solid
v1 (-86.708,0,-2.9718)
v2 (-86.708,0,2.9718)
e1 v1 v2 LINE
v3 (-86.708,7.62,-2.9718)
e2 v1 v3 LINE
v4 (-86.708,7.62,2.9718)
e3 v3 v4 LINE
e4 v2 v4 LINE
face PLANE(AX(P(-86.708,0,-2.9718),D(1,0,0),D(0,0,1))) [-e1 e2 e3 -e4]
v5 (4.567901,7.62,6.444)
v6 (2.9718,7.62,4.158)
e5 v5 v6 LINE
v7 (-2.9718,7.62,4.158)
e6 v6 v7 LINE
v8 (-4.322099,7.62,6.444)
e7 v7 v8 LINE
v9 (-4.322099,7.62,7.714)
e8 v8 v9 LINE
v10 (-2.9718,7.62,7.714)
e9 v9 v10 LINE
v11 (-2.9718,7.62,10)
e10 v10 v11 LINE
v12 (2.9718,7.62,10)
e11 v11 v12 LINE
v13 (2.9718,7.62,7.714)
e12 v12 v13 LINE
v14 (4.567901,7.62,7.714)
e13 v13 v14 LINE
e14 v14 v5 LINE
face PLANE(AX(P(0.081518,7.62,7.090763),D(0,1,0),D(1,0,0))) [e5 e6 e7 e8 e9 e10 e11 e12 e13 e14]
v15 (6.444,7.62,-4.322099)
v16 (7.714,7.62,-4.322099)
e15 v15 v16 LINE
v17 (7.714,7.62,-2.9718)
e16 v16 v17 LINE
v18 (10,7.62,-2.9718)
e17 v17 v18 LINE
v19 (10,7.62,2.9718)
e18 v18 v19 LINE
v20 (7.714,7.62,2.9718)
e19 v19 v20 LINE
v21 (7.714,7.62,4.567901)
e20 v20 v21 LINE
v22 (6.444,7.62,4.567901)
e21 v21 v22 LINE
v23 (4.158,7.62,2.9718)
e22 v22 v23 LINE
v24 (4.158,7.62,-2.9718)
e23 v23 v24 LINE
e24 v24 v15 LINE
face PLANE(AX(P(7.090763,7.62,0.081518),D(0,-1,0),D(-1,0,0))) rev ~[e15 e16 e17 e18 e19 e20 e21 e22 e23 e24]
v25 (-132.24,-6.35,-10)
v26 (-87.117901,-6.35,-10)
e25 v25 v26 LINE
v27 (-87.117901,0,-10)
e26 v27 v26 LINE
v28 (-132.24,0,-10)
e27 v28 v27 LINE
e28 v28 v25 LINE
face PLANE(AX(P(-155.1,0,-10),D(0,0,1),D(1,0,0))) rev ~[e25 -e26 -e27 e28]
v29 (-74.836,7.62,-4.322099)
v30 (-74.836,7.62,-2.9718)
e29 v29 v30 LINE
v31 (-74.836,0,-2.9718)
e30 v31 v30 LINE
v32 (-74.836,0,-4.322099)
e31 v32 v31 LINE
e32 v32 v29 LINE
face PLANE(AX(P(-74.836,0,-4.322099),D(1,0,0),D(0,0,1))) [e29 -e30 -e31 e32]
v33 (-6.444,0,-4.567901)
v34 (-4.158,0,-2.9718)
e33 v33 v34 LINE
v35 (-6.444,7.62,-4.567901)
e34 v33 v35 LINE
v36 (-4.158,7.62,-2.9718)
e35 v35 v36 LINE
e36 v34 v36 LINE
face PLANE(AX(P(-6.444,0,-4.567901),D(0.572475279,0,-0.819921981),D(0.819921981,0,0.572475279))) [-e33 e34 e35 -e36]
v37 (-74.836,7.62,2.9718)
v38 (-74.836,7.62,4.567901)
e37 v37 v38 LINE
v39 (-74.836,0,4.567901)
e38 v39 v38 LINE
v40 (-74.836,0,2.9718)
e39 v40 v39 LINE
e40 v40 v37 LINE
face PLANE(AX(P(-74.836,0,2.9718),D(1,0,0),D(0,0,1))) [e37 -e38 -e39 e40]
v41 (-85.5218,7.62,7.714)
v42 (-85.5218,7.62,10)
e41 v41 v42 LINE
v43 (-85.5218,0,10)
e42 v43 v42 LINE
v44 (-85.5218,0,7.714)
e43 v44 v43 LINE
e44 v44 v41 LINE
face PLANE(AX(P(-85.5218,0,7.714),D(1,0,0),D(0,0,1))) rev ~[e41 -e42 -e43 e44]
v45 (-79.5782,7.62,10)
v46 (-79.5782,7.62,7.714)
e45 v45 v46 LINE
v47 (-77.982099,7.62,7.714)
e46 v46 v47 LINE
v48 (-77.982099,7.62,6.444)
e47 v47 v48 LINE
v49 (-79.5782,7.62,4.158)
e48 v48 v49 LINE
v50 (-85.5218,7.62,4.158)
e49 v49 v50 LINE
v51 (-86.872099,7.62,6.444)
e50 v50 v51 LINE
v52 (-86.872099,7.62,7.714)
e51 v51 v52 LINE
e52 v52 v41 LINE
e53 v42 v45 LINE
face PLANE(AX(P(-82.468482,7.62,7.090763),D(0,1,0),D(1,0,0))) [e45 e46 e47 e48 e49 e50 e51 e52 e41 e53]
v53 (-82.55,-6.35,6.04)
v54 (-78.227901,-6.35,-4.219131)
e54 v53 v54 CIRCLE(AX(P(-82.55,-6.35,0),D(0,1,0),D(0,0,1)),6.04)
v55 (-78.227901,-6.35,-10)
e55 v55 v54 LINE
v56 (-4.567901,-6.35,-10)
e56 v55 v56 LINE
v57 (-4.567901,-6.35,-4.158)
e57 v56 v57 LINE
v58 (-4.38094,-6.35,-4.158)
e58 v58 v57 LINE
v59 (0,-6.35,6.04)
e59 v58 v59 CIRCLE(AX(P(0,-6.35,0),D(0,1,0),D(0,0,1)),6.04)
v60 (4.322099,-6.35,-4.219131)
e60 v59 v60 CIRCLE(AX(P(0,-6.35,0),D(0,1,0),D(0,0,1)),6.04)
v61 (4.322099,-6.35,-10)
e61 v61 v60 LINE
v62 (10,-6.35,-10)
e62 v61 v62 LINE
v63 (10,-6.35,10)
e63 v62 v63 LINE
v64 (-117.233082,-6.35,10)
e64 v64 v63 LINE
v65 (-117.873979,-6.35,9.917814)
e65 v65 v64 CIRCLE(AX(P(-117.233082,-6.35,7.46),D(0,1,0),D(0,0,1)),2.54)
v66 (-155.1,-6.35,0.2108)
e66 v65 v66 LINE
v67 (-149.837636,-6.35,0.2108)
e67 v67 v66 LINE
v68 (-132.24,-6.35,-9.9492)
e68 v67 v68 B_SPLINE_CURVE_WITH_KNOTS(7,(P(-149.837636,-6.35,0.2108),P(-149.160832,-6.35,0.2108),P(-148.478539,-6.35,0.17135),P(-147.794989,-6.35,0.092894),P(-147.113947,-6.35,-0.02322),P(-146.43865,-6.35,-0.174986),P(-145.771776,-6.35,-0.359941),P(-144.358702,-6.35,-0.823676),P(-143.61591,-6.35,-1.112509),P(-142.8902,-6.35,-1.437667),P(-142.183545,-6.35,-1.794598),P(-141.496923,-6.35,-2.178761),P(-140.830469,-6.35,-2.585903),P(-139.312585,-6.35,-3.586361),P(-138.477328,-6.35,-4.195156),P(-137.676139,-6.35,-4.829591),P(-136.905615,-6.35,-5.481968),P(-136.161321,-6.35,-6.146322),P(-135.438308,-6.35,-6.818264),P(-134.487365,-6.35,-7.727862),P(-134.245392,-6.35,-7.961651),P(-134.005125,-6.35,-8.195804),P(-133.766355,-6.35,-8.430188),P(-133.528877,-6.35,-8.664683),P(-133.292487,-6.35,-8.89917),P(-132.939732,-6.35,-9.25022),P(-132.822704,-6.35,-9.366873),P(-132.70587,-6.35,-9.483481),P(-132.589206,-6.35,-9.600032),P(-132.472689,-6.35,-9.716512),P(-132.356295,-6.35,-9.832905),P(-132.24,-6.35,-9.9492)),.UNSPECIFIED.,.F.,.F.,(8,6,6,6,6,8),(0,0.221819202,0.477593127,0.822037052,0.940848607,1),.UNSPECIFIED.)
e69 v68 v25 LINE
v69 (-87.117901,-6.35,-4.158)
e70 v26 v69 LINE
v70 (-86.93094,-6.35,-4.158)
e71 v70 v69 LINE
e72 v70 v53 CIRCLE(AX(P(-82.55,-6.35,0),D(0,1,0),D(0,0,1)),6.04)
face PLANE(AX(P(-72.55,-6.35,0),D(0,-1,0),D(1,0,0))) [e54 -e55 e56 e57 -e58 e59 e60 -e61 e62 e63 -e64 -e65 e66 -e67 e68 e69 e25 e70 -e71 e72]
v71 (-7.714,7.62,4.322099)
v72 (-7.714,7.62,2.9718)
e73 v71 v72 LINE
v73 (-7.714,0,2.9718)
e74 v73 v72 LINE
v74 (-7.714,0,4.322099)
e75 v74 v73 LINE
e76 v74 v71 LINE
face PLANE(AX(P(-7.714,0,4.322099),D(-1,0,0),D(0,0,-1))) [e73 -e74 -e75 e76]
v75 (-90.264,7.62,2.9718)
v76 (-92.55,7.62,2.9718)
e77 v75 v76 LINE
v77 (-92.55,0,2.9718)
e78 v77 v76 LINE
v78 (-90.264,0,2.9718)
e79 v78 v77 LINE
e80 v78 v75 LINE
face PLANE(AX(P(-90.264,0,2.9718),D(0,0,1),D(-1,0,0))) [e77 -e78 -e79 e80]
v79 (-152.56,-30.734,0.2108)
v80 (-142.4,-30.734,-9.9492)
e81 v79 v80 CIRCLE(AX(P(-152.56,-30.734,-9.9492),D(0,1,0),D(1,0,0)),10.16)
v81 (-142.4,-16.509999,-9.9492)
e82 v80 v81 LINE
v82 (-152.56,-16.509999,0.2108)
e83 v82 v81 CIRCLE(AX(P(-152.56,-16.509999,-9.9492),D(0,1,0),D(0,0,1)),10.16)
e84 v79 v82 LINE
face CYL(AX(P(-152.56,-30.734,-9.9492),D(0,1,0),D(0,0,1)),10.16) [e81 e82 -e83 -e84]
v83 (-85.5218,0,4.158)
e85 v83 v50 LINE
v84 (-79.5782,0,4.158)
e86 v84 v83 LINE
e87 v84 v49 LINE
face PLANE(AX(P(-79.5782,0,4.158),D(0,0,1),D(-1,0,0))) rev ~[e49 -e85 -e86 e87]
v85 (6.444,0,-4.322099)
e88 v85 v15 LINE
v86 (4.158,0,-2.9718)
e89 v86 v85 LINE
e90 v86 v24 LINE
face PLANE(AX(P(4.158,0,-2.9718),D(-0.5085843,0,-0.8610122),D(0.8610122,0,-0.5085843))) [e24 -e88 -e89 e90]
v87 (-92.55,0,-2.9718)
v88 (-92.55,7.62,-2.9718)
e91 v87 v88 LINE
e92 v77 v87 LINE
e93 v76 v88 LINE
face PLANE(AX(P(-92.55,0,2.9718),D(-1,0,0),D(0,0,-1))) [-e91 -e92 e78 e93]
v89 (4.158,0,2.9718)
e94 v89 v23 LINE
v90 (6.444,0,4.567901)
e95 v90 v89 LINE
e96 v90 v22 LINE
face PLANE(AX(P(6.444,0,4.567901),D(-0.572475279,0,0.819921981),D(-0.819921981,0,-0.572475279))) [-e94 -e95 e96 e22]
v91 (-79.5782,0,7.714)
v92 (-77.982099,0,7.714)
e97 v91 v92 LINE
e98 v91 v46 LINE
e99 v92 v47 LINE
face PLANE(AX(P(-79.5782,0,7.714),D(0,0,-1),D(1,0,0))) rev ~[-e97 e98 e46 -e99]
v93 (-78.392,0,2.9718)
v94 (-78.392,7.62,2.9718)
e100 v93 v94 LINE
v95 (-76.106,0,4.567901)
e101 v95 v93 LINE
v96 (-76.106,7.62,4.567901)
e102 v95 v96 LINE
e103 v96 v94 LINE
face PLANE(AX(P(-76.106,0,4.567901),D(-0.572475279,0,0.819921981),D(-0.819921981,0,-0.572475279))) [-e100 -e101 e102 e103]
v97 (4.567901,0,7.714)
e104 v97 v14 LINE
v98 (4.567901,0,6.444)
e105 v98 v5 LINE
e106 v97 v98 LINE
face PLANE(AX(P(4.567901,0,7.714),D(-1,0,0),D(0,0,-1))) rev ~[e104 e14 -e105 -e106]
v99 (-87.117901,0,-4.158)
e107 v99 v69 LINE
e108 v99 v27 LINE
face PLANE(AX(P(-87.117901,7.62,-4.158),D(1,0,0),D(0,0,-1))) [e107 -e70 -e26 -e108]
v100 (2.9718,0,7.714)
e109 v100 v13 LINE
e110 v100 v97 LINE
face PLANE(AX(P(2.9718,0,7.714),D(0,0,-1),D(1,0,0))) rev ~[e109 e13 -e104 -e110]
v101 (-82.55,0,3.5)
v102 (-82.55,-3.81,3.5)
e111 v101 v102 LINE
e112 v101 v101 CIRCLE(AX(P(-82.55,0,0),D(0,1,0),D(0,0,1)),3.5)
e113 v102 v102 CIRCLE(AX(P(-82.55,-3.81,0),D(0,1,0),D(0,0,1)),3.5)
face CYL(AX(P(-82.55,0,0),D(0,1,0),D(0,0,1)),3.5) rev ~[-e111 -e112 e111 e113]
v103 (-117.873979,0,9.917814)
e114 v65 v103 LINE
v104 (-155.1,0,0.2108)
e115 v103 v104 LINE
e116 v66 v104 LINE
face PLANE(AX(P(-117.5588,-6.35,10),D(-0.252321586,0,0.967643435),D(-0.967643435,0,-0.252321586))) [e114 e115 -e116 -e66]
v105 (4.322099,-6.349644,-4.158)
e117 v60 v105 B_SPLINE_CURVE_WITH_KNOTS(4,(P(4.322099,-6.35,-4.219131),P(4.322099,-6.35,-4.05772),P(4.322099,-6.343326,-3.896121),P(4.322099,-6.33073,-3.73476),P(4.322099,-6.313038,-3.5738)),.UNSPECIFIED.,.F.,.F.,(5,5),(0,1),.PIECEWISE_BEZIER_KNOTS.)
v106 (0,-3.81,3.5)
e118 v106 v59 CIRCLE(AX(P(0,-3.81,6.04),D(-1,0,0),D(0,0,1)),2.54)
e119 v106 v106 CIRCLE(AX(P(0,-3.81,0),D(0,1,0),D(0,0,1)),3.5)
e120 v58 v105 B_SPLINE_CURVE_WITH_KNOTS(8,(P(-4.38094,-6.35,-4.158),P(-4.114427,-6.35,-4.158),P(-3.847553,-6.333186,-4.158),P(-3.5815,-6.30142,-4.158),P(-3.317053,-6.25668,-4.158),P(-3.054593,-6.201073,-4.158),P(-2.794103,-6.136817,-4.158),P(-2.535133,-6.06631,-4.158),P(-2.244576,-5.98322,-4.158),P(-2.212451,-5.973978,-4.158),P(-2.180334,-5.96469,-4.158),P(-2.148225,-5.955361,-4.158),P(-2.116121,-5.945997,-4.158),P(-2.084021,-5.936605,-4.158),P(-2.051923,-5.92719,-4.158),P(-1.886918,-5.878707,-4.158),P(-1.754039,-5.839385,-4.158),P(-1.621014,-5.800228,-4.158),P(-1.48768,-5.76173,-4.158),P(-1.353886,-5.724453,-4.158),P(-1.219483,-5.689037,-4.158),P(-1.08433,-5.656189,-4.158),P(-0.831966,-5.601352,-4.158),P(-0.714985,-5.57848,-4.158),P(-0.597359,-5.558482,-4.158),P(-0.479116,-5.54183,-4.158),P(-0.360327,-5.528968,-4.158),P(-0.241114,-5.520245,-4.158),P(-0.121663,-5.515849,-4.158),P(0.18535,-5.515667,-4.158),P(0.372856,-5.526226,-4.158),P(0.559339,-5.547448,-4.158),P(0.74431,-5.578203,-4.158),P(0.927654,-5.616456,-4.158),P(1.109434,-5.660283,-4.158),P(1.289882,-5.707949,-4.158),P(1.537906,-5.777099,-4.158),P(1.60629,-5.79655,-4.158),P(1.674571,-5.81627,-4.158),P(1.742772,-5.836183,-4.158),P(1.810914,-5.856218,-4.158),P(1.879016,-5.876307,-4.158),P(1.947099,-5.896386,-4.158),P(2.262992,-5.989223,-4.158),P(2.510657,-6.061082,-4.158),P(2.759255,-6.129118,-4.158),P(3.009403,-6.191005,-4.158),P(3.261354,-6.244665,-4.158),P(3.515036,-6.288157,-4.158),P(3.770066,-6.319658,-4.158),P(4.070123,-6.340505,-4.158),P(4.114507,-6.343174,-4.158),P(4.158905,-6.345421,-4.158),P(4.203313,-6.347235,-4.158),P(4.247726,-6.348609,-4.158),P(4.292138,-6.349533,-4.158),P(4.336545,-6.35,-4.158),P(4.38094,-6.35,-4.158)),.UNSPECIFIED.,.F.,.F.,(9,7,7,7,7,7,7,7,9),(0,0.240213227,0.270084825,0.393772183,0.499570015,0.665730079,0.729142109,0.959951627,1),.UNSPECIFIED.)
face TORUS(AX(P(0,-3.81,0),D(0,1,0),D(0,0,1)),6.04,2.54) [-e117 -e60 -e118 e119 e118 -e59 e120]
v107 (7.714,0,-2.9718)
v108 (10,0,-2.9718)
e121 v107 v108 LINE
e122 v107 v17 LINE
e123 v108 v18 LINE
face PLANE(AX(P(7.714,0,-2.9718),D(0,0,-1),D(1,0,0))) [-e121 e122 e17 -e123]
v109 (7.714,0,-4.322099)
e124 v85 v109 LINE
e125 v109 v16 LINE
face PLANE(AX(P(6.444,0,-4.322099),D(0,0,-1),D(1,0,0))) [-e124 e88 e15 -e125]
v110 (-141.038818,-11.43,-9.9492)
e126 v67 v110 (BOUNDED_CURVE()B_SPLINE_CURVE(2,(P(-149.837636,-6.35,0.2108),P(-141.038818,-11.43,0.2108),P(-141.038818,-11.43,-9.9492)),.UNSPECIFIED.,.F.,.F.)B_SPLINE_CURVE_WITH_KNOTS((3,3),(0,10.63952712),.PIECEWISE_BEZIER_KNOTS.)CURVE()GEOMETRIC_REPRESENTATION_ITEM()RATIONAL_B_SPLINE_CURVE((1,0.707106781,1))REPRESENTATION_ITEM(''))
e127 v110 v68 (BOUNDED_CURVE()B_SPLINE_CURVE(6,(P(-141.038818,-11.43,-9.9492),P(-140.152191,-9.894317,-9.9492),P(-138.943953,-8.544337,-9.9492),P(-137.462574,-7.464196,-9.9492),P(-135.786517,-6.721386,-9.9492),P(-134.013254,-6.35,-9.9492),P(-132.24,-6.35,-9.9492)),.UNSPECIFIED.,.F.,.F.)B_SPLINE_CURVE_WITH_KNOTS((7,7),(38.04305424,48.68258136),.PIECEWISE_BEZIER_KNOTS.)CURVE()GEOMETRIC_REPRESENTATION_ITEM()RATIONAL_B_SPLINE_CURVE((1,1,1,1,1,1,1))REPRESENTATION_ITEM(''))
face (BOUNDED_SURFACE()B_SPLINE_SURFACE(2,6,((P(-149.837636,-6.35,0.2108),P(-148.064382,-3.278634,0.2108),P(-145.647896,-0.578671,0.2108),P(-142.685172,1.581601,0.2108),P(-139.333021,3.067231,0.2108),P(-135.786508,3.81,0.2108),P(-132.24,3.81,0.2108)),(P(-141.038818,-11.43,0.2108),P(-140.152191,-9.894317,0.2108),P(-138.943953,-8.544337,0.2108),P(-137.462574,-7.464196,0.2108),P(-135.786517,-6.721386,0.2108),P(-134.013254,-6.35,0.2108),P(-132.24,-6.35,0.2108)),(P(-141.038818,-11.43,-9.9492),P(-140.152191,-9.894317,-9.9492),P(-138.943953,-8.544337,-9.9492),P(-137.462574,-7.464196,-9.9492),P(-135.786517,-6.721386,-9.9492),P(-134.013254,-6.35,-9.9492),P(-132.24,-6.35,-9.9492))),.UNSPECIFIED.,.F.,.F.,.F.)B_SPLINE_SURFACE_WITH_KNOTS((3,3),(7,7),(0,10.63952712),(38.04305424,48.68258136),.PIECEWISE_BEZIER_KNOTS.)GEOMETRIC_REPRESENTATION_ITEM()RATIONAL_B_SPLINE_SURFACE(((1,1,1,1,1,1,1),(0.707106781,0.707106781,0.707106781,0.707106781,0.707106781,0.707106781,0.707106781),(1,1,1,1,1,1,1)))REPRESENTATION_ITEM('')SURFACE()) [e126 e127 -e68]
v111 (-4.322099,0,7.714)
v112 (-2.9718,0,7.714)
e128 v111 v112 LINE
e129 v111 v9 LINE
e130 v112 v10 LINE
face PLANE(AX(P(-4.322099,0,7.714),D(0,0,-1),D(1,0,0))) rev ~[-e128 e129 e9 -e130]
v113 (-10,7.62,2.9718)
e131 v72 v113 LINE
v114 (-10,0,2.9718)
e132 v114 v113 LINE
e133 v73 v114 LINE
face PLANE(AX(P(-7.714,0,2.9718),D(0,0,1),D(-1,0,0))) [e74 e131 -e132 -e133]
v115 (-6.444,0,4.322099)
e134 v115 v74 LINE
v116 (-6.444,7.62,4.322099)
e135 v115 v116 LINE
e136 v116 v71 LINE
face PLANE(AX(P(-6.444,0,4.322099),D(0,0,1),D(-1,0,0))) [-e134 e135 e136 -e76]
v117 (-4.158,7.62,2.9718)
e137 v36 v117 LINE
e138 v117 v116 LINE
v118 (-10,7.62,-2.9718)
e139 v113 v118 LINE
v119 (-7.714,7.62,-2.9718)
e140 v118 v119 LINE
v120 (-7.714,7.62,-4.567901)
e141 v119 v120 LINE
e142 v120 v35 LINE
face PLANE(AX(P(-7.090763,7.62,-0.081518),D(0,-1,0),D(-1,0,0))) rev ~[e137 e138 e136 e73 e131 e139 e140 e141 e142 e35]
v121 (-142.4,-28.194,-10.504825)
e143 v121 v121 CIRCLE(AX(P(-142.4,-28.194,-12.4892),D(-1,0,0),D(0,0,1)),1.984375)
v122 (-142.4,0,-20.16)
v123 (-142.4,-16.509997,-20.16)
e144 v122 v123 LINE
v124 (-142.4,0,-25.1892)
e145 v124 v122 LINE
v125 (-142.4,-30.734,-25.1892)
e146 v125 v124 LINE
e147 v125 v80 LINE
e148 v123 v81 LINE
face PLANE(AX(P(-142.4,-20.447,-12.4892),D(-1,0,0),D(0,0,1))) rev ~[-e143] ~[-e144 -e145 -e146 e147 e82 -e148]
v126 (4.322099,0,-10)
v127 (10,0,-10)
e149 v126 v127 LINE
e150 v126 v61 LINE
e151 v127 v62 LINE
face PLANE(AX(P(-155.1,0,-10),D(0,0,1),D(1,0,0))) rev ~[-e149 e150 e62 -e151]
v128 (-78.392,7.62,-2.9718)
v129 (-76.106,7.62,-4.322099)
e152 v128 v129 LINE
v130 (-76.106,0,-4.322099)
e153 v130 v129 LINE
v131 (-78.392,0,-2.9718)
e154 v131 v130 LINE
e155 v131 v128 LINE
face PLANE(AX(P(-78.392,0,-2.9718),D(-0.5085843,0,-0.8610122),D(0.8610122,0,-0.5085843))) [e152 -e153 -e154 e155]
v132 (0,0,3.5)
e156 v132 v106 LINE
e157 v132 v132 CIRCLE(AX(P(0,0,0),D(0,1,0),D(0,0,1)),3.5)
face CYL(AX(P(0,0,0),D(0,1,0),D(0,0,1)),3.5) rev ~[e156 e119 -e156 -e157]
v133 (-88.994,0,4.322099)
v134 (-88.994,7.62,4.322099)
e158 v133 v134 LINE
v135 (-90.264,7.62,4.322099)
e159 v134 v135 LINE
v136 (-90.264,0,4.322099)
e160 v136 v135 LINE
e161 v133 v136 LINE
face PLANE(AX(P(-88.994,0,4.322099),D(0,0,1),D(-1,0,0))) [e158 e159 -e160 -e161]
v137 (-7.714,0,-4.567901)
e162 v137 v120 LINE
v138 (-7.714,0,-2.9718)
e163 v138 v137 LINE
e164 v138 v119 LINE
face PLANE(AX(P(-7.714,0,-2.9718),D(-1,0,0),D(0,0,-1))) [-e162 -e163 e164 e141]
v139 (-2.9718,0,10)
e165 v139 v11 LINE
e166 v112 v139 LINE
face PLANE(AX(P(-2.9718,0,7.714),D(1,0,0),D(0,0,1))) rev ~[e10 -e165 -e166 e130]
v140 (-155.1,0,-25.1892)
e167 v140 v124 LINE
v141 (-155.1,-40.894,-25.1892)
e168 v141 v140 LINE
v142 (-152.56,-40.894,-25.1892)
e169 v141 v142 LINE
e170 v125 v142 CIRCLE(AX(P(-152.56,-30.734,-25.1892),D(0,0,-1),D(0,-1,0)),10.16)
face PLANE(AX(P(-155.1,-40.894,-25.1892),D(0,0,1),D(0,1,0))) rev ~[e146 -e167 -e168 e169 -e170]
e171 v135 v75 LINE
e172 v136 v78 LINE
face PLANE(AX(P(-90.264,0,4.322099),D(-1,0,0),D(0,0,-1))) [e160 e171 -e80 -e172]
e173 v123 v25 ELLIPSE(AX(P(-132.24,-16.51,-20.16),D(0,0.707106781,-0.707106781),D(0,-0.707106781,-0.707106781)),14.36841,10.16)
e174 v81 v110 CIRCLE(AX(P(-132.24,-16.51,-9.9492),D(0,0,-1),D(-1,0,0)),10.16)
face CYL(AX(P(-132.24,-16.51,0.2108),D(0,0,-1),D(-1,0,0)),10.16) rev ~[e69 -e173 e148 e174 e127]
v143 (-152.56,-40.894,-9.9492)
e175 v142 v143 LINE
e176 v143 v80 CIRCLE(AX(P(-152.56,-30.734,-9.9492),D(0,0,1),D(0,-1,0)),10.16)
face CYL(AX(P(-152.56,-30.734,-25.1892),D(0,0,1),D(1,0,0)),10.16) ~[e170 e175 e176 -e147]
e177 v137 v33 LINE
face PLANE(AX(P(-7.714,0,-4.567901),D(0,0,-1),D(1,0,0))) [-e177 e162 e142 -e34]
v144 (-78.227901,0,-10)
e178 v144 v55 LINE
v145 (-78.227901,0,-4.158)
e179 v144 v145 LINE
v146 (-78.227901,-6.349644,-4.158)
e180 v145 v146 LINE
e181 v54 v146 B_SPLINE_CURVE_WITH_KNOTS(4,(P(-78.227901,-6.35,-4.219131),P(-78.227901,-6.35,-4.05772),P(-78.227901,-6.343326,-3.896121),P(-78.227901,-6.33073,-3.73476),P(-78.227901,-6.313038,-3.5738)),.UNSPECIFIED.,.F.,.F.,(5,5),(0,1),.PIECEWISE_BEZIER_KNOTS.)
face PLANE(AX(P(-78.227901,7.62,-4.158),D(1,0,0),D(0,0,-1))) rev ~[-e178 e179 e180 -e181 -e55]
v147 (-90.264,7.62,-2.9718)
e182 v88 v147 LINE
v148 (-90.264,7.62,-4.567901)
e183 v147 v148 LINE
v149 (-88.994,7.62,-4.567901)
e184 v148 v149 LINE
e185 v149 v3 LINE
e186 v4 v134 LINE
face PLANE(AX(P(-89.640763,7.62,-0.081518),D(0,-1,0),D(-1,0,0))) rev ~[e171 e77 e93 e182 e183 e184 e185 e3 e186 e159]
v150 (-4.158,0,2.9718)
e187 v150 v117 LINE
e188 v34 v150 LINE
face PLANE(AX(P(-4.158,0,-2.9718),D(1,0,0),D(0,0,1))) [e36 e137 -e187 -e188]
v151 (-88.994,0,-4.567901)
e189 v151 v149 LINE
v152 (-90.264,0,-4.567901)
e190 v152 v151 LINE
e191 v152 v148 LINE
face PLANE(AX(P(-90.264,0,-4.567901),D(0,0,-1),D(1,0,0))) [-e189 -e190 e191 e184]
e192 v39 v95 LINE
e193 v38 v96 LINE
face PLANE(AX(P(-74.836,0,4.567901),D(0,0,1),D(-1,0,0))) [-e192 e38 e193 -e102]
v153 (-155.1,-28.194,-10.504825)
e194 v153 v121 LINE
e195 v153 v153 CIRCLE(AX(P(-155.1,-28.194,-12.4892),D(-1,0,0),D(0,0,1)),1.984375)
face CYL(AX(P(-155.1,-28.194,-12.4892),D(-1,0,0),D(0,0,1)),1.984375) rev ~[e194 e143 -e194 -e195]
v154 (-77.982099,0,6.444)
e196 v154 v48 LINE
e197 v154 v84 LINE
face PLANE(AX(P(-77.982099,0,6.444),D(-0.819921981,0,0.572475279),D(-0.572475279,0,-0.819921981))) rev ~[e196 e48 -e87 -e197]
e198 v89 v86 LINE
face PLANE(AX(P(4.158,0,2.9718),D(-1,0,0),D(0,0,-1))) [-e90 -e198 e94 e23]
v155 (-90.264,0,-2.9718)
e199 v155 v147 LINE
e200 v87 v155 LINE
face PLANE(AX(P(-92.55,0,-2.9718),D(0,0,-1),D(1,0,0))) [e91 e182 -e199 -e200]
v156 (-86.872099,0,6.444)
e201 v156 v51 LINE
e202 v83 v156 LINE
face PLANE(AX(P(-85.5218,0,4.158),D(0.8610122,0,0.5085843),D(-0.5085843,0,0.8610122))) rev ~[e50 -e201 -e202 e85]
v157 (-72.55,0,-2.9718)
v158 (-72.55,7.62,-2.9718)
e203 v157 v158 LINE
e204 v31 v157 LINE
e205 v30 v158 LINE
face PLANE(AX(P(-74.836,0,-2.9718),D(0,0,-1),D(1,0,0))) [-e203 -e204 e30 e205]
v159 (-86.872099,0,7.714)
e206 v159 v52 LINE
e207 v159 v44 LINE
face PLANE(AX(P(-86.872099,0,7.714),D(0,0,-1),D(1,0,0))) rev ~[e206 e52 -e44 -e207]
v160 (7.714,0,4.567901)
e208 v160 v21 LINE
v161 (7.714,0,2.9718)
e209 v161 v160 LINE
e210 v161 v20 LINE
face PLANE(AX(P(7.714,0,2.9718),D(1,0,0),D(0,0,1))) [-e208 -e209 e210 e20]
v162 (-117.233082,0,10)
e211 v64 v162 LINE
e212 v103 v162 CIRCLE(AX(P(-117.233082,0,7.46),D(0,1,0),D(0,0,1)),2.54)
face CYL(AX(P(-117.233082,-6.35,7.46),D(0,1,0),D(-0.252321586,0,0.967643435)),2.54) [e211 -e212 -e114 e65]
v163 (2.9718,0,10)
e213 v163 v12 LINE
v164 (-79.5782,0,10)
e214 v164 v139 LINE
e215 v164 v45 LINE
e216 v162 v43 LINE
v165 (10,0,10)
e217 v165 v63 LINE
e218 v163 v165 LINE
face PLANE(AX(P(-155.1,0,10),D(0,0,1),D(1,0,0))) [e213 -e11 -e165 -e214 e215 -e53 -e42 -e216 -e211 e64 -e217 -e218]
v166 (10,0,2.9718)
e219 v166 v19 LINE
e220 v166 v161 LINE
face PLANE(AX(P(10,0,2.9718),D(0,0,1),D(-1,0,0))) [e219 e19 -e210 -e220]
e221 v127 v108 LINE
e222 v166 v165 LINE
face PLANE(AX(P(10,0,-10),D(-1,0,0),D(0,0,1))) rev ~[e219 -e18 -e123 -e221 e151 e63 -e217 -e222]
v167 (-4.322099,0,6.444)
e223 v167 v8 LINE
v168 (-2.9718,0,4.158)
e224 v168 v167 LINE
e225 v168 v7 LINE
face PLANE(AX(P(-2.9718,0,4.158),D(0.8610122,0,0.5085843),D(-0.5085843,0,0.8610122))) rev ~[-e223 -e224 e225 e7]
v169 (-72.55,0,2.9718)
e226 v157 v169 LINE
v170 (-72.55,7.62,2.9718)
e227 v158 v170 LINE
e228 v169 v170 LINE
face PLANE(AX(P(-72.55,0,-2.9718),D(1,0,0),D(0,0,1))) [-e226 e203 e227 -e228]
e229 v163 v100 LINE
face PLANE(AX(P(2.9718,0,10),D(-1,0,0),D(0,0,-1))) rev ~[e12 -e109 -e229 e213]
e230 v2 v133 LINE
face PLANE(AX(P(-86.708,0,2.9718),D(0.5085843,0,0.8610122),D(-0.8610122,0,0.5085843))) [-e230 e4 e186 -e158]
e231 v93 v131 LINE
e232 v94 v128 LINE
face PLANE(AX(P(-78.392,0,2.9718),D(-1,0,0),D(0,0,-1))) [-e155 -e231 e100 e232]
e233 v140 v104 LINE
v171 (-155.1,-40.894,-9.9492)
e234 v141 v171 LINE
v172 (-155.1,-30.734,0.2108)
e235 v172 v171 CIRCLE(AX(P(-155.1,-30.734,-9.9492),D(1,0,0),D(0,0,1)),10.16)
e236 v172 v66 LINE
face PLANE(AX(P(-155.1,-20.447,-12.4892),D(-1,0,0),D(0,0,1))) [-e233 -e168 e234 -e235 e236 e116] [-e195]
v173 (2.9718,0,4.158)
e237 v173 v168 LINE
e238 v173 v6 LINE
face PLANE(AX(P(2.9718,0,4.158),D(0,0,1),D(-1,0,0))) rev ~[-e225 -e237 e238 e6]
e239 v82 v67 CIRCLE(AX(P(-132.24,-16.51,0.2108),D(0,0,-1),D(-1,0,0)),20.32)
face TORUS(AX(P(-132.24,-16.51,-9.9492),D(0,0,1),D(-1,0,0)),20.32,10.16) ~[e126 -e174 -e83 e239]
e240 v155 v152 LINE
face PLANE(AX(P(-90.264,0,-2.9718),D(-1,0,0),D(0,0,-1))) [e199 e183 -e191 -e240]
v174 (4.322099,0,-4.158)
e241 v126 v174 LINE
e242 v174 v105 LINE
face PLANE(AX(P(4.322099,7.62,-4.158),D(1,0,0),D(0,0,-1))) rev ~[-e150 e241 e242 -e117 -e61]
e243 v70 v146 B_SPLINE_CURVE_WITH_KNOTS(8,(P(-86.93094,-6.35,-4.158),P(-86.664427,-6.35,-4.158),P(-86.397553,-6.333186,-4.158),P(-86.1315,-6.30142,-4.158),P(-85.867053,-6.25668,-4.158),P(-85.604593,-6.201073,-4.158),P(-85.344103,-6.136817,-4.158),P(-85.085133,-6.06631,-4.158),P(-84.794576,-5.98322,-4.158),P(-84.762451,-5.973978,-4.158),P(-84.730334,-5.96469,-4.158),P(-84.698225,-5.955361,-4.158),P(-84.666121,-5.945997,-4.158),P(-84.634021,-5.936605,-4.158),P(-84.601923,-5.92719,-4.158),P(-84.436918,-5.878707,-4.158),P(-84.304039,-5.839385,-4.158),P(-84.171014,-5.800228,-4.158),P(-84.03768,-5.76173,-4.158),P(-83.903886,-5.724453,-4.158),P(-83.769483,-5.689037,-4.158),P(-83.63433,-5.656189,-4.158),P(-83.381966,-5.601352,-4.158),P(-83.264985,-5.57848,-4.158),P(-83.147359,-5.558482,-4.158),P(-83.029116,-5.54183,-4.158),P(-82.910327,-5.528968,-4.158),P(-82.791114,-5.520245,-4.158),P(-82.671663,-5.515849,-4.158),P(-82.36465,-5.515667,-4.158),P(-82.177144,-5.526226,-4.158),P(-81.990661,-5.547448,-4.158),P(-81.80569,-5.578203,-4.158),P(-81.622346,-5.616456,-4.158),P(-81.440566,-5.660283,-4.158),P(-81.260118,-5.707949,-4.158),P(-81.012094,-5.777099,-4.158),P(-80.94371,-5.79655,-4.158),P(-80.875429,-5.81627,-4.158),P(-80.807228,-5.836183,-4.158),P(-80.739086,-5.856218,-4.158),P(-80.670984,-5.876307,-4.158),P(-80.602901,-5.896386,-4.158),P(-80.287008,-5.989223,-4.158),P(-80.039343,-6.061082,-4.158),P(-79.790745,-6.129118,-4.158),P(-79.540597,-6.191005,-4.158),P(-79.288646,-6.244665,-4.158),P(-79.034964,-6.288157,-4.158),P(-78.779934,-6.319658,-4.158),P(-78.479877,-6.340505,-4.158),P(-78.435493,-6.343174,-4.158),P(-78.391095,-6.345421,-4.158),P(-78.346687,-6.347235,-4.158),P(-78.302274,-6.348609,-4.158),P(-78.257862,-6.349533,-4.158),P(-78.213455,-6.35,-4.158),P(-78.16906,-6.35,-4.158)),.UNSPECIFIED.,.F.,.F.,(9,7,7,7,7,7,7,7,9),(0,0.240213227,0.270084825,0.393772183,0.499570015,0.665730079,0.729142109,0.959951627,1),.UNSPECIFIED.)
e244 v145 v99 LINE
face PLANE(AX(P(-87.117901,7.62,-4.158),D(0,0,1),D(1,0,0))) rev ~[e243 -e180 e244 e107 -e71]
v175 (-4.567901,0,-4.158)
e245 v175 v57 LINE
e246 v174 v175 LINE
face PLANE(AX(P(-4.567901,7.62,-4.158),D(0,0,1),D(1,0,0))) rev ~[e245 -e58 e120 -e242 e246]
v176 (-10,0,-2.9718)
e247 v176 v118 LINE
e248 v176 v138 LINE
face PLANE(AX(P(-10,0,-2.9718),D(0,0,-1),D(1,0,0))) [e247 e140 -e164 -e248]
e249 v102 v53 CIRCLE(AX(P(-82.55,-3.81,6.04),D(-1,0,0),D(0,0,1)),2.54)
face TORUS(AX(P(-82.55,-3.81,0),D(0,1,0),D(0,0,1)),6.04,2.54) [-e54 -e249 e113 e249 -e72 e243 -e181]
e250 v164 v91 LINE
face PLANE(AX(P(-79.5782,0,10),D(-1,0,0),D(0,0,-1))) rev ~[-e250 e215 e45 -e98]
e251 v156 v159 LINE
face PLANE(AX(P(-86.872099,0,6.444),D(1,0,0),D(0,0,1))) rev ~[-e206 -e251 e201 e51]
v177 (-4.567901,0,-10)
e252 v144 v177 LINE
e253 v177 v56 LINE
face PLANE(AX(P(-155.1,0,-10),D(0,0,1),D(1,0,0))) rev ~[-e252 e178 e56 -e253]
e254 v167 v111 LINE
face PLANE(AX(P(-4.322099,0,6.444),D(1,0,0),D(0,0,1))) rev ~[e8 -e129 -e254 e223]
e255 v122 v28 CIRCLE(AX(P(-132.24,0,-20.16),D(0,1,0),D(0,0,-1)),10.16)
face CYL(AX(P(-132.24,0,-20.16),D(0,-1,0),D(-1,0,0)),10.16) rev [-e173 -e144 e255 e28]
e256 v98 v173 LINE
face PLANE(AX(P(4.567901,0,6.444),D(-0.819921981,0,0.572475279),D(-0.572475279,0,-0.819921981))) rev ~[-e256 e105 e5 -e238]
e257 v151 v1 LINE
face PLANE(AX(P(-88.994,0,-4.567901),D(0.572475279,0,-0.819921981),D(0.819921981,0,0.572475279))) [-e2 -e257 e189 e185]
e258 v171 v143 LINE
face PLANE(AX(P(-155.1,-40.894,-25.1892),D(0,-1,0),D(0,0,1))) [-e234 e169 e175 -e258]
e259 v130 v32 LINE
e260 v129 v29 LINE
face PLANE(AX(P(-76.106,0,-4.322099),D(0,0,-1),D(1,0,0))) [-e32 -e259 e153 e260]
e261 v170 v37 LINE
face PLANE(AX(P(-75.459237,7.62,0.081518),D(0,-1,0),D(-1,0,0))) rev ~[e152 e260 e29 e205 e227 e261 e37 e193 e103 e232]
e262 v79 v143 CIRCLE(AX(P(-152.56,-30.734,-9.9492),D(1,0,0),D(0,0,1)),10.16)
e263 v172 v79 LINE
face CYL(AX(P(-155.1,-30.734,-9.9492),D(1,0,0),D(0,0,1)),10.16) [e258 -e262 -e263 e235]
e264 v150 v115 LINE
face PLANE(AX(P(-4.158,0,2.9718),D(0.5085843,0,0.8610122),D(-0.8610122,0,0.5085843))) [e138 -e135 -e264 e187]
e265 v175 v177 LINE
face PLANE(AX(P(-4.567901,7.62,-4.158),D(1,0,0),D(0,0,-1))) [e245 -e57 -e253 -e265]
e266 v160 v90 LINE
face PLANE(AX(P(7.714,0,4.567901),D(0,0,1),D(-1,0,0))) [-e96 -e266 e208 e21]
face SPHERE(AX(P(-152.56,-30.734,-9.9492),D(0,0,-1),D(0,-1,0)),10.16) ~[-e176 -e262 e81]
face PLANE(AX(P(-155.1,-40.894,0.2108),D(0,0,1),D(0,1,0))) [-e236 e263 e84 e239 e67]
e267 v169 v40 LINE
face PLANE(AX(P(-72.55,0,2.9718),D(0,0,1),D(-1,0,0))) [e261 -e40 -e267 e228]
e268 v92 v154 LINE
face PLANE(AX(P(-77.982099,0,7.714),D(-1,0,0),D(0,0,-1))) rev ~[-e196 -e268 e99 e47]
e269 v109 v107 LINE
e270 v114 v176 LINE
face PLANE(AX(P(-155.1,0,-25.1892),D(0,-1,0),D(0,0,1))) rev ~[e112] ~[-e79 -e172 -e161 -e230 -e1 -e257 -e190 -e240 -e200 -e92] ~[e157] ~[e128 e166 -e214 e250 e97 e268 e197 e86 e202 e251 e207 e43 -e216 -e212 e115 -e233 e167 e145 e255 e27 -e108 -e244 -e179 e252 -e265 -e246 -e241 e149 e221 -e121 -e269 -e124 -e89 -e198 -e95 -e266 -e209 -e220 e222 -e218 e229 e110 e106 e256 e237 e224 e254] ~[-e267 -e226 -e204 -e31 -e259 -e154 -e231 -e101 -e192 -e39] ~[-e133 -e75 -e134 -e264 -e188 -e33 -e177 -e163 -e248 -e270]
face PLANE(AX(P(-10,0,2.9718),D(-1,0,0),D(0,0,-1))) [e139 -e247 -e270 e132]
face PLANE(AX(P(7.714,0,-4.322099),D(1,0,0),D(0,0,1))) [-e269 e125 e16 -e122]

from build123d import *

# Parameters (mm, degrees)
BOSS_EXTRUDE1_DEPTH   = 7.62
BOSS_EXTRUDE1_2_DEPTH = 7.62
BOSS_EXTRUDE1_3_DEPTH = 7.62
BOSS_EXTRUDE1_4_DEPTH = 7.62
SKETCH2_W             = 165.1
SKETCH2_H             = 20
BOSS_EXTRUDE2_DEPTH   = 6.35
LPATTERN2_COUNT       = 2
LPATTERN2_PITCH       = 82.55
CUT_EXTRUDE1_DEPTH    = 157.048617104
FILLET1_R             = 2.54
SKETCH13_R            = 3.5
CUT_EXTRUDE5_DEPTH    = 156.608722121
FILLET6_R             = 2.54
SKETCH14_W            = 8.89
SKETCH14_H            = 5.842
CUT_EXTRUDE6_DEPTH    = 157.048617104
SKETCH15_W            = 25.4
SKETCH15_H            = 40.894
BOSS_EXTRUDE3_DEPTH   = 12.7
FILLET15_R            = 10.16
FILLET16_R            = 10.16
FILLET17_R            = 10.16
FILLET18_R            = 10.16
SKETCH18_R            = 1.984375
CUT_EXTRUDE9_DEPTH    = 12.7


with BuildPart() as part:
    # Sketch1 → Boss-Extrude1 (new body)
    with BuildSketch(Plane(origin=(0, 0, 0), x_dir=(1, 0, 0), z_dir=(0, 1, 0))):
        Polygon((2.9718, 10), (-2.9718, 10), (-2.9718, 7.714), (-4.567901235, 7.714), (-4.567901235, 6.444), (-2.9718, 4.158), (2.9718, 4.158), (4.322098765, 6.444), (4.322098765, 7.714), (2.9718, 7.714), align=None)
    boss_extrude1 = extrude(amount=BOSS_EXTRUDE1_DEPTH)



with BuildPart() as body_2:
    # Sketch1 → Boss-Extrude1 2 (new body)
    with BuildSketch(Plane(origin=(0, 0, 0), x_dir=(1, 0, 0), z_dir=(0, 1, 0))):
        Polygon((4.158, -2.9718), (4.158, 2.9718), (6.444, 4.322098765), (7.714, 4.322098765), (7.714, 2.9718), (10, 2.9718), (10, -2.9718), (7.714, -2.9718), (7.714, -4.567901235), (6.444, -4.567901235), align=None)
    boss_extrude1_2 = extrude(amount=BOSS_EXTRUDE1_2_DEPTH)


with BuildPart() as body_3:
    # Sketch1 → Boss-Extrude1 3 (new body)
    with BuildSketch(Plane(origin=(0, 0, 0), x_dir=(1, 0, 0), z_dir=(0, 1, 0))):
        Polygon((-10, -2.9718), (-10, 2.9718), (-7.714, 2.9718), (-7.714, 4.567901235), (-6.444, 4.567901235), (-4.158, 2.9718), (-4.158, -2.9718), (-6.444, -4.322098765), (-7.714, -4.322098765), (-7.714, -2.9718), align=None)
    boss_extrude1_3 = extrude(amount=BOSS_EXTRUDE1_3_DEPTH)


with BuildPart() as body_4:
    # Sketch1 → Boss-Extrude1 4 (new body)
    with BuildSketch(Plane(origin=(0, 0, 0), x_dir=(1, 0, 0), z_dir=(0, 1, 0))):
        Polygon((4.567901235, -6.444), (2.9718, -4.158), (-2.9718, -4.158), (-4.322098765, -6.444), (-4.322098765, -7.714), (-2.9718, -7.714), (-2.9718, -10), (2.9718, -10), (2.9718, -7.714), (4.567901235, -7.714), align=None)
    boss_extrude1_4 = extrude(amount=BOSS_EXTRUDE1_4_DEPTH)


with BuildPart() as part_1:
    add(part.part)

    add(body_2.part)  # Boss-Extrude2 merges body 2

    add(body_3.part)  # Boss-Extrude2 merges body 3

    add(body_4.part)  # Boss-Extrude2 merges body 4
    # Sketch2 → Boss-Extrude2 (add)
    with BuildSketch(Plane.XZ):
        with Locations((-72.55, 0)):
            Rectangle(SKETCH2_W, SKETCH2_H)
    extrude(amount=BOSS_EXTRUDE2_DEPTH)

    # LPattern2: Boss-Extrude1, Boss-Extrude1 2, Boss-Extrude1 3, Boss-Extrude1 4 ×2
    with Locations(*[(-i * LPATTERN2_PITCH, 0, 0) for i in range(1, LPATTERN2_COUNT)]):
        add(boss_extrude1)
        add(boss_extrude1_2)
        add(boss_extrude1_3)
        add(boss_extrude1_4)

    # Sketch4 → Cut-Extrude1 (cut, through all)
    with BuildSketch(Plane(origin=(0, -6.35, 0), x_dir=(-1, 0, 0), z_dir=(0, -1, 0))):
        Polygon((155.1, -10), (117.5588, -10), (155.1, -0.2108), align=None)
    extrude(amount=-CUT_EXTRUDE1_DEPTH, mode=Mode.SUBTRACT)

    # Fillet1
    fillet1_edges = [part_1.edges().sort_by_distance(p)[0] for p in [
        (-117.5588, -3.175, 10),
    ]]
    fillet(fillet1_edges, radius=FILLET1_R)

    # Sketch13 → Cut-Extrude5 (cut, through all)
    with BuildSketch(Plane(origin=(0, 0, 0), x_dir=(1, 0, 0), z_dir=(0, 1, 0))):
        with Locations(Location((0, 0, 0), (0, 0, 270))):
            Circle(SKETCH13_R)
        with Locations(Location((-82.55, 0, 0), (0, 0, 270))):
            Circle(SKETCH13_R)
    extrude(amount=-CUT_EXTRUDE5_DEPTH, mode=Mode.SUBTRACT)

    # Fillet6
    fillet6_edges = [part_1.edges().sort_by_distance(p)[0] for p in [
        (0, -6.35, -3.5),
        (-82.55, -6.35, -3.5),
    ]]
    fillet(fillet6_edges, radius=FILLET6_R)

    # Sketch14 → Cut-Extrude6 (cut, through all)
    with BuildSketch(Plane(origin=(0, 7.62, 0), x_dir=(1, 0, 0), z_dir=(0, 1, 0))):
        with Locations((-0.122901235, 7.079)):
            Rectangle(SKETCH14_W, SKETCH14_H)
        with Locations((-82.672901235, 7.079)):
            Rectangle(SKETCH14_W, SKETCH14_H)
    extrude(amount=-CUT_EXTRUDE6_DEPTH, mode=Mode.SUBTRACT)

    # Sketch15 → Boss-Extrude3 (add)
    with BuildSketch(Plane.ZY.offset(155.1)):
        with Locations((-12.4892, -20.447)):
            Rectangle(SKETCH15_W, SKETCH15_H)
    extrude(amount=-BOSS_EXTRUDE3_DEPTH)

    # Fillet15
    fillet15_edges = [part_1.edges().sort_by_distance(p)[0] for p in [
        (-142.4, -6.35, -4.8946),
    ]]
    fillet(fillet15_edges, radius=FILLET15_R)

    # Fillet16
    fillet16_edges = [part_1.edges().sort_by_distance(p)[0] for p in [
        (-142.4, -8.255, -10),
    ]]
    fillet(fillet16_edges, radius=FILLET16_R)

    # Fillet17
    fillet17_edges = [part_1.edges().sort_by_distance(p)[0] for p in [
        (-142.4, -40.894, -12.4892),
    ]]
    fillet(fillet17_edges, radius=FILLET17_R)

    # Fillet18
    fillet18_edges = [part_1.edges().sort_by_distance(p)[0] for p in [
        (-139.424204897, -9.325795103, 0.2108),
        (-153.83, -40.894, 0.2108),
        (-142.4, -23.622, 0.2108),
        (-145.375795103, -37.918204897, 0.2108),
    ]]
    fillet(fillet18_edges, radius=FILLET18_R)

    # Sketch18 → Cut-Extrude9 (cut)
    with BuildSketch(Plane.ZY.offset(155.1)):
        with Locations((-12.4892, -28.194)):
            Circle(SKETCH18_R)
    extrude(amount=-CUT_EXTRUDE9_DEPTH, mode=Mode.SUBTRACT)


solid = part_1.part
